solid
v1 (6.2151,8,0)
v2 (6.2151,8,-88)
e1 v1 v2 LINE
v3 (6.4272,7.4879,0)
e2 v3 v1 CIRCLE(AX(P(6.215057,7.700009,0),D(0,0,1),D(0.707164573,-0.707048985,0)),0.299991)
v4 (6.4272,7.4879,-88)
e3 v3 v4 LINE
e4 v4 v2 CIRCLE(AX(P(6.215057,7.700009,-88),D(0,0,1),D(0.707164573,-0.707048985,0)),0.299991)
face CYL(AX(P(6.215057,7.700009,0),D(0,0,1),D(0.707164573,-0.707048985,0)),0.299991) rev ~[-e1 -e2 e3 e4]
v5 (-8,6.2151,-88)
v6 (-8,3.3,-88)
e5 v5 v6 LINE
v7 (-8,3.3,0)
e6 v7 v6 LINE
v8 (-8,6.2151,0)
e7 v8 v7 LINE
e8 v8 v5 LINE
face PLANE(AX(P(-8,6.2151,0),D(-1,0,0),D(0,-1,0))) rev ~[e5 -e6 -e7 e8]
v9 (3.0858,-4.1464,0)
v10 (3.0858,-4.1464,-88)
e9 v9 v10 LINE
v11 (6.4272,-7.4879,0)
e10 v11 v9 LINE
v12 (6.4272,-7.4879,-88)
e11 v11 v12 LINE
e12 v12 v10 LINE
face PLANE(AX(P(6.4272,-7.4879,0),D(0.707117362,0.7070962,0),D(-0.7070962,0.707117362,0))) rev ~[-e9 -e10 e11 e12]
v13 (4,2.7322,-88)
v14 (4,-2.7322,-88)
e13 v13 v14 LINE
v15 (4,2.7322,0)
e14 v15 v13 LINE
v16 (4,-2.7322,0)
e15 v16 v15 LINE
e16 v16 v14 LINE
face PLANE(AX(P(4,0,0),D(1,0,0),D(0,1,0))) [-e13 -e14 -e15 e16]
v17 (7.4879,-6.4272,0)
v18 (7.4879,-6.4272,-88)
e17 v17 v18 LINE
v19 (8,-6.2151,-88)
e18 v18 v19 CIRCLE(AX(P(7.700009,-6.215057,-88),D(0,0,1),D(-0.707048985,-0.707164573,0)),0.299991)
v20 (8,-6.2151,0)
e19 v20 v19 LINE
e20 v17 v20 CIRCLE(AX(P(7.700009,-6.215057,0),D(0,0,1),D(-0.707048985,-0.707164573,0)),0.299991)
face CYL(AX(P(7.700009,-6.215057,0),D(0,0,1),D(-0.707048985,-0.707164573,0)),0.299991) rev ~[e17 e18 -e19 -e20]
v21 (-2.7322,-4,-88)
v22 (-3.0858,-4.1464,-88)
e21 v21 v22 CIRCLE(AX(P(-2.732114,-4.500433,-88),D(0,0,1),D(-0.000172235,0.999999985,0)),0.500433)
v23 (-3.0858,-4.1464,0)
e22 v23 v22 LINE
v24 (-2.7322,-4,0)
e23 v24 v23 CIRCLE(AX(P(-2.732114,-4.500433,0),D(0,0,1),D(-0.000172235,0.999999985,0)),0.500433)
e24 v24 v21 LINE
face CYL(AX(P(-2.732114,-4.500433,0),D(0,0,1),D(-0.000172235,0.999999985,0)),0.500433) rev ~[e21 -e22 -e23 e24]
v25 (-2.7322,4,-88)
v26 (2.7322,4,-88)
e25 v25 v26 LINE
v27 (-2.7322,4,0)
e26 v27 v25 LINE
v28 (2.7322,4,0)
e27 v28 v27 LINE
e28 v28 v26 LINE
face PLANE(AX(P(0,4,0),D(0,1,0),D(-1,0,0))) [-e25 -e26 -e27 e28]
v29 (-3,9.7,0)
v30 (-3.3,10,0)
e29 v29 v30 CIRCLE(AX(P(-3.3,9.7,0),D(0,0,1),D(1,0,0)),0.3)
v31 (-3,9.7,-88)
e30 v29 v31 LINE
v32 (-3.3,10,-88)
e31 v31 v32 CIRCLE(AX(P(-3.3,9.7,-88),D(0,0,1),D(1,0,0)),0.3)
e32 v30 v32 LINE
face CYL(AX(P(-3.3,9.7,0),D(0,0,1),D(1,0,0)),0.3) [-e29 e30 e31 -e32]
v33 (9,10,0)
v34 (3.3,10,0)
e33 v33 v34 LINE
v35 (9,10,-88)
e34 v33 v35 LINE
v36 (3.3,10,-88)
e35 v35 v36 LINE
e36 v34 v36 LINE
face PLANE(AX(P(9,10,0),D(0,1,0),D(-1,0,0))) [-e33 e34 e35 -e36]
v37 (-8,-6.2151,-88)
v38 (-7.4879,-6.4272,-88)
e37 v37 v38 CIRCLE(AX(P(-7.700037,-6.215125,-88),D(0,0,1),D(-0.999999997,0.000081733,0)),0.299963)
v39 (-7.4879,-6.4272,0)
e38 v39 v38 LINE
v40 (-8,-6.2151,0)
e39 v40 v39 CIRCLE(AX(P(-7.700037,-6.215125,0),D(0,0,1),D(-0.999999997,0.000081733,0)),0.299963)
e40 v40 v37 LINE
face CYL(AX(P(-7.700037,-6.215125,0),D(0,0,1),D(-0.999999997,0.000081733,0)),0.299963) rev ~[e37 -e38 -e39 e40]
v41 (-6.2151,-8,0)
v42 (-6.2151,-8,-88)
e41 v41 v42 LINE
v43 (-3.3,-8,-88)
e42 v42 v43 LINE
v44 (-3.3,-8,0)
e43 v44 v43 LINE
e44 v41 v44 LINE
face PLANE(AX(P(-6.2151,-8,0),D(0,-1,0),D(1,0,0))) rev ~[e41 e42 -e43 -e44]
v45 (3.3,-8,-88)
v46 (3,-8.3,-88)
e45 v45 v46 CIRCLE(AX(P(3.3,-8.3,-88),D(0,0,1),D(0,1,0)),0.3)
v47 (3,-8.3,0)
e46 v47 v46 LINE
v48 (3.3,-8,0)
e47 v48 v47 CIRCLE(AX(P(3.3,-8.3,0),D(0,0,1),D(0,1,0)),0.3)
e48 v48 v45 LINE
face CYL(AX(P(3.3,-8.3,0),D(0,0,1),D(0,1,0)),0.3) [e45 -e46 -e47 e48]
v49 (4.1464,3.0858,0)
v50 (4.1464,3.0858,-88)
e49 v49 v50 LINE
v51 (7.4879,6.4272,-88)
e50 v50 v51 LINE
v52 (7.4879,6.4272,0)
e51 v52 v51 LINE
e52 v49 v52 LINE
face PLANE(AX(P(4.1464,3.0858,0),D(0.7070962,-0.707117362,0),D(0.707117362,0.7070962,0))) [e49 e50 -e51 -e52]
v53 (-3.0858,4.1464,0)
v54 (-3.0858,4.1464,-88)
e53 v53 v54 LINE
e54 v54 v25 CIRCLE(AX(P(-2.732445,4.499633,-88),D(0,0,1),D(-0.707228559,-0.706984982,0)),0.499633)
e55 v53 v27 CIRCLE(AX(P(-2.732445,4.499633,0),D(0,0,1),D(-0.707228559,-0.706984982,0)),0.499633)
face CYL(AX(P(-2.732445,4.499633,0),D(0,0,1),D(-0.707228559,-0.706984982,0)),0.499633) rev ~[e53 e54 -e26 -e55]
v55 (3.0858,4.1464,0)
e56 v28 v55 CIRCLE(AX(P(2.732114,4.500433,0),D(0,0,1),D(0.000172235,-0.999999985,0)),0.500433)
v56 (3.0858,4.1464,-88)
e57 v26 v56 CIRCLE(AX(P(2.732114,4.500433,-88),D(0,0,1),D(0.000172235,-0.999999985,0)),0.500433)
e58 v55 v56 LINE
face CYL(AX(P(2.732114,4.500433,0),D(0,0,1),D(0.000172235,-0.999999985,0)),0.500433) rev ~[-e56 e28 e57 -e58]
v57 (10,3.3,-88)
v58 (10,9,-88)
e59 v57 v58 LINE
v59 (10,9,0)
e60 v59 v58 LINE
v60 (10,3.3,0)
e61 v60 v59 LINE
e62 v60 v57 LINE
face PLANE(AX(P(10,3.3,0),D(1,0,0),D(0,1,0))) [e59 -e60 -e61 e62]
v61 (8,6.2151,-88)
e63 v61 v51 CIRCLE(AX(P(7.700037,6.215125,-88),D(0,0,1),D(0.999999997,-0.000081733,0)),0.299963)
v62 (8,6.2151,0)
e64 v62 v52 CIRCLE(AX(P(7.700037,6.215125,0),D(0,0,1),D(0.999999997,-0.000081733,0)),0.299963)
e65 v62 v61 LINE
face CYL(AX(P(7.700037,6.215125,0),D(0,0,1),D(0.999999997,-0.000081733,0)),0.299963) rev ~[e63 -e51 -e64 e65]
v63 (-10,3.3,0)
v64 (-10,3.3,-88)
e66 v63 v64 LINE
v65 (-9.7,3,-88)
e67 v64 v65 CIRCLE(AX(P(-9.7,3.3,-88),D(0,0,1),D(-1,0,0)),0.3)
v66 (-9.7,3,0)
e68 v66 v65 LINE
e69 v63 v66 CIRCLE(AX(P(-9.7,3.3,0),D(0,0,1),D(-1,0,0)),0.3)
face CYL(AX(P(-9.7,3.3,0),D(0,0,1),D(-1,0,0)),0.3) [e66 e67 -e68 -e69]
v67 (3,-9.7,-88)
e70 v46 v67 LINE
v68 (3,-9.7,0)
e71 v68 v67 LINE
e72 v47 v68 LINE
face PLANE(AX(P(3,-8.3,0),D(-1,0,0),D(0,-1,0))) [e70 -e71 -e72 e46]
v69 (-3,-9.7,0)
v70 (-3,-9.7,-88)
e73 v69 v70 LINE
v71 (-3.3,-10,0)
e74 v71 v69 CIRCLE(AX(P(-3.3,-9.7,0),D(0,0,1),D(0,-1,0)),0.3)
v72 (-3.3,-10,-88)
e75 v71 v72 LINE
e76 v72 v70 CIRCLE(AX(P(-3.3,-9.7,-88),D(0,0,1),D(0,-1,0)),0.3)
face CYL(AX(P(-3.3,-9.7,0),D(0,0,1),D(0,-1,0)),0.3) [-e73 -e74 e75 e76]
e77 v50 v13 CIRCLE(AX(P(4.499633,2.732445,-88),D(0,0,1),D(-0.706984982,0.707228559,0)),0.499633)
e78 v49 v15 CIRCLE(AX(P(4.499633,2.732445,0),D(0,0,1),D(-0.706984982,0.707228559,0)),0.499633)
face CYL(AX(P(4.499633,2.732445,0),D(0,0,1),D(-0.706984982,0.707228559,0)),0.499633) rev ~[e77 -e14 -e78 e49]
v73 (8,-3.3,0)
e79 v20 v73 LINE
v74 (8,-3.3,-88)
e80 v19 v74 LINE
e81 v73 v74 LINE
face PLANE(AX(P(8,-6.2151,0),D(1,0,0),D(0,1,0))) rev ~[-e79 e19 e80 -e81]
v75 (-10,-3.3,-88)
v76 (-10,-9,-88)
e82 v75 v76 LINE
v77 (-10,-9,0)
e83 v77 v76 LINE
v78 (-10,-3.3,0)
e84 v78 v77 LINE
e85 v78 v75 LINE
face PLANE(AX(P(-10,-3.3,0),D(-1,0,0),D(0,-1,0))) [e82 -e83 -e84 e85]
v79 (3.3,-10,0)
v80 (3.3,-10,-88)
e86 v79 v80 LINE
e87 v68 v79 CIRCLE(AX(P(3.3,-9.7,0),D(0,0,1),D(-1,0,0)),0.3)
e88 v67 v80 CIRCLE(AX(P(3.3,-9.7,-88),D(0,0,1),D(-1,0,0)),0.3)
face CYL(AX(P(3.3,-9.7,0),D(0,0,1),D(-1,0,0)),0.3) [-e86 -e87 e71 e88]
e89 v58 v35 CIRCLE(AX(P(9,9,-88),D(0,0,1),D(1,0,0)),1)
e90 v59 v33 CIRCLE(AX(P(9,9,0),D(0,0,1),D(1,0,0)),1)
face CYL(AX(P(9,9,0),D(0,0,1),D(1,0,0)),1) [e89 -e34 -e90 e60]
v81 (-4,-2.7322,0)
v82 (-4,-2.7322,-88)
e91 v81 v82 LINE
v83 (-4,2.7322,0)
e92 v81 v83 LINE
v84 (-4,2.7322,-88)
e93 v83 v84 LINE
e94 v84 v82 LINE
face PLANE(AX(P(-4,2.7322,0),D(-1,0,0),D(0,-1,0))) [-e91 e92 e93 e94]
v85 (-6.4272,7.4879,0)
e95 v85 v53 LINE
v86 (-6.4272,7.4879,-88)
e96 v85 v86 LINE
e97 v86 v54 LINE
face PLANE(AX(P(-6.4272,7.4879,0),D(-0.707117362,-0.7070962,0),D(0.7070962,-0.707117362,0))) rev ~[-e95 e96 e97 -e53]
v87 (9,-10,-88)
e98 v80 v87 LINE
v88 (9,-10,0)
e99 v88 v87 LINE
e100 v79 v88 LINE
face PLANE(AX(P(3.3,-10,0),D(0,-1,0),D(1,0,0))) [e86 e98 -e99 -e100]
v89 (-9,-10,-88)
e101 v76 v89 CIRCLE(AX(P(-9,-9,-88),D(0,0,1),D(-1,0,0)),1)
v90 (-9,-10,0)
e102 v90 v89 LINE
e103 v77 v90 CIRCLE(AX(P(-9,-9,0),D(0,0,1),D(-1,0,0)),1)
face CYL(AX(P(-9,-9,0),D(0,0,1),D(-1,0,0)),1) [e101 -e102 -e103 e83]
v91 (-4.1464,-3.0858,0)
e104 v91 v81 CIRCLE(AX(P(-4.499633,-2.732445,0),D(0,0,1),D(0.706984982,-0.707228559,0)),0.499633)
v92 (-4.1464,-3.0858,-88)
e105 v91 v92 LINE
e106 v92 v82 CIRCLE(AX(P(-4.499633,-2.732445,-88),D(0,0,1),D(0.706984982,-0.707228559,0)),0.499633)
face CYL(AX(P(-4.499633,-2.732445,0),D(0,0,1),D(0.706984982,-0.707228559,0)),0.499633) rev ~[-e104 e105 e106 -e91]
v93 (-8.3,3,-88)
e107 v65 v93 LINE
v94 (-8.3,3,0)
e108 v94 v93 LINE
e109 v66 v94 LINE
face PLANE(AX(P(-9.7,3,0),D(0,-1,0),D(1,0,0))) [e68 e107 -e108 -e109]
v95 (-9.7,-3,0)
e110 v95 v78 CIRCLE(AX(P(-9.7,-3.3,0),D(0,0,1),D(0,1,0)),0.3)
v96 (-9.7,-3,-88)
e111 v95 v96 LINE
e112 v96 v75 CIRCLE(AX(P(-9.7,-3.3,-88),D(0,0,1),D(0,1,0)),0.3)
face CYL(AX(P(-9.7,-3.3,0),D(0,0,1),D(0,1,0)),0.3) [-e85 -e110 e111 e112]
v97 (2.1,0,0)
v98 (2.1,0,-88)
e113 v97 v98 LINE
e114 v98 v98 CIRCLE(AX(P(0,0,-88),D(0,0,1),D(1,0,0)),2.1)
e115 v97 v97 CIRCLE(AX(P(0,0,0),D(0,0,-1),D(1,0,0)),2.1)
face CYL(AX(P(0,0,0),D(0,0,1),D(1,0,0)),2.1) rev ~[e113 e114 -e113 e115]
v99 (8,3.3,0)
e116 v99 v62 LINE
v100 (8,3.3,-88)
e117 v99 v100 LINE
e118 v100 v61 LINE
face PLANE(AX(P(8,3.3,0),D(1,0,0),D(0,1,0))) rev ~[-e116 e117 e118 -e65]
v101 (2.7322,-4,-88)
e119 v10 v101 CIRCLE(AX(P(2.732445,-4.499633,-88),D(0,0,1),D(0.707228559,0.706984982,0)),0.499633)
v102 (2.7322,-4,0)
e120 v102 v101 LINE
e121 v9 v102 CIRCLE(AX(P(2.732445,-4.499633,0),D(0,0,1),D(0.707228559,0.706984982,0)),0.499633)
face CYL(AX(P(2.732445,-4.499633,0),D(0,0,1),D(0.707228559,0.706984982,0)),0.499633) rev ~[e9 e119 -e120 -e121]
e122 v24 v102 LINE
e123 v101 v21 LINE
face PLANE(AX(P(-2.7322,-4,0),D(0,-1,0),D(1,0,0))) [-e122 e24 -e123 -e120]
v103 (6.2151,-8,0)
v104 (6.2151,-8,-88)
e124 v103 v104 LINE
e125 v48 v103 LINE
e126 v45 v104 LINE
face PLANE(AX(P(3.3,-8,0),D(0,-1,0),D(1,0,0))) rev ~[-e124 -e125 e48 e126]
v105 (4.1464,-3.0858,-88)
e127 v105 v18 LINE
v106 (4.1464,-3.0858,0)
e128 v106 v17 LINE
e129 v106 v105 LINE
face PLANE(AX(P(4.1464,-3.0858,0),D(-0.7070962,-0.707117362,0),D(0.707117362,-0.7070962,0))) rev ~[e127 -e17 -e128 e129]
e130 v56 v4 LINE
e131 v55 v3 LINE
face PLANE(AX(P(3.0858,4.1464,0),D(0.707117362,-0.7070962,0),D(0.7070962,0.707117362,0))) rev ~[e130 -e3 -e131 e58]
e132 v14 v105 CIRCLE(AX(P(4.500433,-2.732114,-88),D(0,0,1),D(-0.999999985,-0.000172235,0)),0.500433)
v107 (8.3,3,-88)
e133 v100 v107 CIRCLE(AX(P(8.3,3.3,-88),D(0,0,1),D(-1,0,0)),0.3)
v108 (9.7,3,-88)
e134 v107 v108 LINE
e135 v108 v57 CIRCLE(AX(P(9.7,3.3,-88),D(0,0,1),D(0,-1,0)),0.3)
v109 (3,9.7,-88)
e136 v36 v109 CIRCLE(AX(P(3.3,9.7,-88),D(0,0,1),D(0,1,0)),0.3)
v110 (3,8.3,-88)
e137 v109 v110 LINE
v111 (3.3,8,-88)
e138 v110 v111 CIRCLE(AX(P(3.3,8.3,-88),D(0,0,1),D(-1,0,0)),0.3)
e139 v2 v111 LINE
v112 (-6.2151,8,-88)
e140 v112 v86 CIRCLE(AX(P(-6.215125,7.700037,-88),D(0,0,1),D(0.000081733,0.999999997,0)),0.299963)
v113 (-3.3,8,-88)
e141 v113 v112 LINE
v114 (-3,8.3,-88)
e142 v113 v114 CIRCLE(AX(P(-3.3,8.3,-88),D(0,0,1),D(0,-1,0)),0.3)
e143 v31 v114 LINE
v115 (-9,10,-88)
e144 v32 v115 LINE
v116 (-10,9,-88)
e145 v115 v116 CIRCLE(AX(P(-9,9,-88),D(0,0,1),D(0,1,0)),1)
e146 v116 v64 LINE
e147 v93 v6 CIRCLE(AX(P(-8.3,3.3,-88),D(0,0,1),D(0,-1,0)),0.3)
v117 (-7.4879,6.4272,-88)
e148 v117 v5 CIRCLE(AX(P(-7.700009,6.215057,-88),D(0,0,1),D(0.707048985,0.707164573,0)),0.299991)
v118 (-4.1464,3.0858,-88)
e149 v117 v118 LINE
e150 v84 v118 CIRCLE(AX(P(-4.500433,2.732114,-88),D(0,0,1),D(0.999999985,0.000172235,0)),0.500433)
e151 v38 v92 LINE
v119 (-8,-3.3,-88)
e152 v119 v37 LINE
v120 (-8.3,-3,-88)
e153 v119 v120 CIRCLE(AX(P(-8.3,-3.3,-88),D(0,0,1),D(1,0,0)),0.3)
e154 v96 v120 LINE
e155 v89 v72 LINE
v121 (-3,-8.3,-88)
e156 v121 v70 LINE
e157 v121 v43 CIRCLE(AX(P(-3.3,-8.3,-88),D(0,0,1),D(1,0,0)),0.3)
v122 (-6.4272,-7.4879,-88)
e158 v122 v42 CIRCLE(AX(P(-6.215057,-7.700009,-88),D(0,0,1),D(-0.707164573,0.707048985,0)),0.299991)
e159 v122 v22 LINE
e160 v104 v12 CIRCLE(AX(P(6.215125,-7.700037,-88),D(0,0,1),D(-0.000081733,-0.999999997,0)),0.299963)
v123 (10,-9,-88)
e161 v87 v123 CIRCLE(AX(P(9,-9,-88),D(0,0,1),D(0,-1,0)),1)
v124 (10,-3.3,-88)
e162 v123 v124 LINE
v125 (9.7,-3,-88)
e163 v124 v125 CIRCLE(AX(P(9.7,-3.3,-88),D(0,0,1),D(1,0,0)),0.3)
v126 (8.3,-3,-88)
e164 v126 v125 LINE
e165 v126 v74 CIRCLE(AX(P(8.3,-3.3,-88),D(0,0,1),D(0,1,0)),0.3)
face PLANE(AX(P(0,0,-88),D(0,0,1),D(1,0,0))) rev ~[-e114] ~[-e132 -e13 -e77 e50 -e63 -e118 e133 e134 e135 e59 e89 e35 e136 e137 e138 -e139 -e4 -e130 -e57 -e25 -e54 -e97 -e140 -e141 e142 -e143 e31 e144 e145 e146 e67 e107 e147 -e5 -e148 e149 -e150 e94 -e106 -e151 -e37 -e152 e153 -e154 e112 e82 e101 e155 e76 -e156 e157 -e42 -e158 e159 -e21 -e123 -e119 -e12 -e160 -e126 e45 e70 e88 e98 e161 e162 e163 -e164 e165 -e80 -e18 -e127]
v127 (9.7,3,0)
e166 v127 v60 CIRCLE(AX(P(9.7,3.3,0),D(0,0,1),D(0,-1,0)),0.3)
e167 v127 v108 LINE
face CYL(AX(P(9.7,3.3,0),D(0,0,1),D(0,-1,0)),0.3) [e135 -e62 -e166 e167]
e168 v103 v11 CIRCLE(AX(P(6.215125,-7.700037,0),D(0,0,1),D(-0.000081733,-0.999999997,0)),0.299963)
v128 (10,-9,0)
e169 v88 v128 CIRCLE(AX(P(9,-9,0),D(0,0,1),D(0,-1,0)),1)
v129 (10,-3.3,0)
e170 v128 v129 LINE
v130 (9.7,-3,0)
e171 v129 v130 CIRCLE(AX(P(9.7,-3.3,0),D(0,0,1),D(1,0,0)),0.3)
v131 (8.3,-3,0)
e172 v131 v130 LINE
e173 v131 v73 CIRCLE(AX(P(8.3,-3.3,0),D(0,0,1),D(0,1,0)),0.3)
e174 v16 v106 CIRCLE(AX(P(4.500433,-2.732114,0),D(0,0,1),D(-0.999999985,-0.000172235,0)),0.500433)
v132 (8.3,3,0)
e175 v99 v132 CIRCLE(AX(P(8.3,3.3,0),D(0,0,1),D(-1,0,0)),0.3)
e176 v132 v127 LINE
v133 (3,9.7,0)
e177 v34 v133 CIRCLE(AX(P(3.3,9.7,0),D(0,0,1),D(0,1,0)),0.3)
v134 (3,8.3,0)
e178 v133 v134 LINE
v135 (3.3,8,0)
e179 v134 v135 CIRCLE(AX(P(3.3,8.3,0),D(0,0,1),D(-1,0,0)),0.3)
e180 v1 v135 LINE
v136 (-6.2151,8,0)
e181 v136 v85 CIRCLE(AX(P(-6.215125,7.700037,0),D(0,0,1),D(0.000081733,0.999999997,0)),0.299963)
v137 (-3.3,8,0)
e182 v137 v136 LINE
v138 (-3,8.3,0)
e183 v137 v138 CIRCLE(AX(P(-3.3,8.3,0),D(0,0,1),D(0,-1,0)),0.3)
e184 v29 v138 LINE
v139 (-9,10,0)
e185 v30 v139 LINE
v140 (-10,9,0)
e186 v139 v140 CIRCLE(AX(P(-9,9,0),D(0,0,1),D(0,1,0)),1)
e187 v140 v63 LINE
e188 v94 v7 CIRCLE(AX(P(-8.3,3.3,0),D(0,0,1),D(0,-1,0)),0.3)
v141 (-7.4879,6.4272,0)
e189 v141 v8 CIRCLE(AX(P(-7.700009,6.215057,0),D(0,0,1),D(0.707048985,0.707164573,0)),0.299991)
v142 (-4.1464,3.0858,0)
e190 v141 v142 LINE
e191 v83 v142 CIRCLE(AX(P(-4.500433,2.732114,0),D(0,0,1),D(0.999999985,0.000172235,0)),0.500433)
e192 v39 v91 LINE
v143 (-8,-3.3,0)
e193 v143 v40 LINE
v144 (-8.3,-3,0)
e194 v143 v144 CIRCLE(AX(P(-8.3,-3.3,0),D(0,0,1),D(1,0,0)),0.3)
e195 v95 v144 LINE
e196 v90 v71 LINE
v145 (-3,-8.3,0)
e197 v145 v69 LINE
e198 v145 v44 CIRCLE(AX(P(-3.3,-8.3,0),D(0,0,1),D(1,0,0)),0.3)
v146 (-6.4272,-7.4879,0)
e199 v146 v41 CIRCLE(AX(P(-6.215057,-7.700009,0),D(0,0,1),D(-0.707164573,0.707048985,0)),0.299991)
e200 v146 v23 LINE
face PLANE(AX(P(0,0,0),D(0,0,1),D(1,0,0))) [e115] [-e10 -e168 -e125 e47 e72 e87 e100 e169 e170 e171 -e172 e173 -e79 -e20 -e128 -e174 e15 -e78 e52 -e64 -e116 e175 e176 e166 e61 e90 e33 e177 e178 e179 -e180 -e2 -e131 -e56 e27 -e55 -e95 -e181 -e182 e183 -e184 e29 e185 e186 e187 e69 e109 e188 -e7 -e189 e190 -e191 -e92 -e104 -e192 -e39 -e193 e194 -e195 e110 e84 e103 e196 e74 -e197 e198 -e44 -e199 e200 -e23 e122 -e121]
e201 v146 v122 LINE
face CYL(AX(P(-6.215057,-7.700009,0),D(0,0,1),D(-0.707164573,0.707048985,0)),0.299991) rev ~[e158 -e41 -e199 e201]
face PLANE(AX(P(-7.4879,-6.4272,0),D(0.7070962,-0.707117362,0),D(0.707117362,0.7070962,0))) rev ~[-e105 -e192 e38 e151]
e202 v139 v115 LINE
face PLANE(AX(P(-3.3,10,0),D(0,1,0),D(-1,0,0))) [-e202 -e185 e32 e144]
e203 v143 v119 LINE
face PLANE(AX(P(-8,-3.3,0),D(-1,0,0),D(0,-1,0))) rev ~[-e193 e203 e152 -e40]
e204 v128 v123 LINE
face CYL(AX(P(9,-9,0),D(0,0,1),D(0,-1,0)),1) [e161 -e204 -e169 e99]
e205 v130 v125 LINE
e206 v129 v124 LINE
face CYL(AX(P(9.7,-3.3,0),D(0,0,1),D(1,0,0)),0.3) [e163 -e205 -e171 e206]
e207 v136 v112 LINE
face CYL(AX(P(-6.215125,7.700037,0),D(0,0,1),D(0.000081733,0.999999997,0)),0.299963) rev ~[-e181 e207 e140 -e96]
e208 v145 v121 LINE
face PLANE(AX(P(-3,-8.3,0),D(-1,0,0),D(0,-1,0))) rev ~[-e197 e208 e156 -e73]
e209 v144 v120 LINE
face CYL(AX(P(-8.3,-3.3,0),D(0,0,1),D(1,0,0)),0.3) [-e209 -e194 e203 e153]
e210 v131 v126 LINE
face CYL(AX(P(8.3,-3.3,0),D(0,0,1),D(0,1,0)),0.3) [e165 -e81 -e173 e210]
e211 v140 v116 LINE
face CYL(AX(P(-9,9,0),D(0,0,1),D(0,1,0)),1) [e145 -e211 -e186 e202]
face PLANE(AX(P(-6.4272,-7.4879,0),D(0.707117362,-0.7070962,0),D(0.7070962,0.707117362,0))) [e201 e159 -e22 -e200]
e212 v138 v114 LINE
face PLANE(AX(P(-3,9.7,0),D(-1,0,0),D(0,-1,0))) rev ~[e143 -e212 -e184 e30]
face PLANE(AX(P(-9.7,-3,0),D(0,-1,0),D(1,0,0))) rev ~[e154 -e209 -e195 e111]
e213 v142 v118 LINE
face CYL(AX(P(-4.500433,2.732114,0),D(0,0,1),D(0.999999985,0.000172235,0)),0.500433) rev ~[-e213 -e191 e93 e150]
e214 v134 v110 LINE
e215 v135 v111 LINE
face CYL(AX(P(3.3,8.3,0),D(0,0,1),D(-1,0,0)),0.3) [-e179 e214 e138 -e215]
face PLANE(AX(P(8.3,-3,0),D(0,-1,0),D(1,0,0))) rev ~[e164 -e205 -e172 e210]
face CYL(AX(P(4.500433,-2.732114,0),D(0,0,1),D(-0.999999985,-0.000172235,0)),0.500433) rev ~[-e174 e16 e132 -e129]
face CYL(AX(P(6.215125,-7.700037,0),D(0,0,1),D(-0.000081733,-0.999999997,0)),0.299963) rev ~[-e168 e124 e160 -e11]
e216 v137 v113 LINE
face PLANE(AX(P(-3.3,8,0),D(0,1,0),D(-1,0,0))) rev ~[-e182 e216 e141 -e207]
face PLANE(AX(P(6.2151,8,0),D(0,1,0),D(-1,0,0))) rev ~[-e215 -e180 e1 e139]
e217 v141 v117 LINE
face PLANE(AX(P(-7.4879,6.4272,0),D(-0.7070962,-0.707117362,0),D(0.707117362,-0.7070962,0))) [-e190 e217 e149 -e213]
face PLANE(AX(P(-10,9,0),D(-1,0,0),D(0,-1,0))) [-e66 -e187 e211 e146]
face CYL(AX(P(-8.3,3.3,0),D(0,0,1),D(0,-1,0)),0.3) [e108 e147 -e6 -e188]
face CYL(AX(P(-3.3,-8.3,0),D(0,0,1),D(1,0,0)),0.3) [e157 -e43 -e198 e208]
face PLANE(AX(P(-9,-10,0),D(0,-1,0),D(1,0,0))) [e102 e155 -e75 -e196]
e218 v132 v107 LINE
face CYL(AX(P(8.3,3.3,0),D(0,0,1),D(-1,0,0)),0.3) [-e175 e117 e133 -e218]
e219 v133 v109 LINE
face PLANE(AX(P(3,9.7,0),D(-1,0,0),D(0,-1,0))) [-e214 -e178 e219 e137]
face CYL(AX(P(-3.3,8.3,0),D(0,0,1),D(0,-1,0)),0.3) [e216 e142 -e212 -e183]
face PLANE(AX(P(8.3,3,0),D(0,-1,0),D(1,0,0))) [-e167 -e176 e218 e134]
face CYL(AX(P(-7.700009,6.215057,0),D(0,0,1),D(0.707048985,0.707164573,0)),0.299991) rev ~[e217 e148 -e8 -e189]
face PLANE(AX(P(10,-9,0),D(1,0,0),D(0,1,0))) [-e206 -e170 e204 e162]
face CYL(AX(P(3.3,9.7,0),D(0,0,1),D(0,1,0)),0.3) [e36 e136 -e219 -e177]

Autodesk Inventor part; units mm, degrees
ref_plane "YZ Plane" through (0, 0, 0) normal (1, 0, 0) x (0, 1, 0)
ref_plane "XZ Plane" through (0, 0, 0) normal (0, 1, 0) x (-1, 0, 0)
ref_plane "XY Plane" through (0, 0, 0) normal (0, 0, 1) x (1, 0, 0)
sketch "Skizze1" plane through (0, 0, 0) normal (0, 0, 1) x (1, 0, 0)
  line L0 (-20.0059, 0) -> (20.0059, 0) projected
  line L1 (0, -20.0059) -> (0, 20.0059) projected
  line L2 (-14.2899, 0) -> (14.2899, 0)
  line L3 (0, -14.2899) -> (0, 14.2899)
  line L4 (-10, -10) -> (10, 10) construction
  line L5 (10, -10) -> (-10, 10) construction
  line L6 (-8, -8) -> (8, 8) construction
  line L7 (8, -8) -> (-8, 8) construction
  line L8 (-2.7322, -4) -> (2.7322, -4)
  line L9 (4, -2.7322) -> (4, 2.7322)
  line L10 (2.7322, 4) -> (-2.7322, 4)
  line L11 (-4, 2.7322) -> (-4, -2.7322)
  line L12 (-4, -4) -> (4, 4) construction
  line L13 (4, -4) -> (-4, 4) construction
  arc A0 (-9, 10) -> (-10, 9) centre (-9, 9) ccw
  arc A1 (10, 9) -> (9, 10) centre (9, 9) ccw
  arc A2 (9, -10) -> (10, -9) centre (9, -9) ccw
  arc A3 (-10, -9) -> (-9, -10) centre (-9, -9) ccw
  line L14 (-3, 9.7) -> (-3, 8.3)
  line L15 (3, 9.7) -> (3, 8.3)
  line L16 (6.2151, 8) -> (3.3, 8)
  line L17 (-3.3, 8) -> (-6.2151, 8)
  line L18 (9, 10) -> (3.3, 10)
  line L19 (-3.3, 10) -> (-9, 10)
  line L20 (-9.7, -3) -> (-8.3, -3)
  line L21 (-9.7, 3) -> (-8.3, 3)
  line L22 (-8, 6.2151) -> (-8, 3.3)
  line L23 (-8, -3.3) -> (-8, -6.2151)
  line L24 (-10, 9) -> (-10, 3.3)
  line L25 (-10, -3.3) -> (-10, -9)
  line L26 (-3, -8.3) -> (-3, -9.7)
  line L27 (3, -8.3) -> (3, -9.7)
  line L28 (-9, -10) -> (-3.3, -10)
  line L29 (3.3, -10) -> (9, -10)
  line L30 (-6.2151, -8) -> (-3.3, -8)
  line L31 (3.3, -8) -> (6.2151, -8)
  line L32 (8.3, 3) -> (9.7, 3)
  line L33 (8.3, -3) -> (9.7, -3)
  line L34 (8, -6.2151) -> (8, -3.3)
  line L35 (8, 3.3) -> (8, 6.2151)
  line L36 (10, -9) -> (10, -3.3)
  line L37 (10, 3.3) -> (10, 9)
  arc A4 (-10, 3.3) -> (-9.7, 3) centre (-9.7, 3.3) ccw
  arc A5 (-8.3, 3) -> (-8, 3.3) centre (-8.3, 3.3) ccw
  arc A6 (-9.7, -3) -> (-10, -3.3) centre (-9.7, -3.3) ccw
  arc A7 (-8, -3.3) -> (-8.3, -3) centre (-8.3, -3.3) ccw
  arc A8 (-3.3, -10) -> (-3, -9.7) centre (-3.3, -9.7) ccw
  arc A9 (-3, -8.3) -> (-3.3, -8) centre (-3.3, -8.3) ccw
  arc A10 (3, -9.7) -> (3.3, -10) centre (3.3, -9.7) ccw
  arc A11 (3.3, -8) -> (3, -8.3) centre (3.3, -8.3) ccw
  arc A12 (8.3, -3) -> (8, -3.3) centre (8.3, -3.3) ccw
  arc A13 (10, -3.3) -> (9.7, -3) centre (9.7, -3.3) ccw
  arc A14 (8, 3.3) -> (8.3, 3) centre (8.3, 3.3) ccw
  arc A15 (9.7, 3) -> (10, 3.3) centre (9.7, 3.3) ccw
  arc A16 (3, 8.3) -> (3.3, 8) centre (3.3, 8.3) ccw
  arc A17 (3.3, 10) -> (3, 9.7) centre (3.3, 9.7) ccw
  arc A18 (-3.3, 8) -> (-3, 8.3) centre (-3.3, 8.3) ccw
  arc A19 (-3, 9.7) -> (-3.3, 10) centre (-3.3, 9.7) ccw
  line L38 (-7.4879, 6.4272) -> (-4.1464, 3.0858)
  line L39 (-6.4272, 7.4879) -> (-3.0858, 4.1464)
  line L40 (-6.4272, -7.4879) -> (-3.0858, -4.1464)
  line L41 (-7.4879, -6.4272) -> (-4.1464, -3.0858)
  arc A20 (-7.4879, 6.4272) -> (-8, 6.2151) centre (-7.7, 6.2151) ccw
  arc A21 (-6.2151, 8) -> (-6.4272, 7.4879) centre (-6.2151, 7.7) ccw
  arc A22 (-8, -6.2151) -> (-7.4879, -6.4272) centre (-7.7, -6.2151) ccw
  arc A23 (-6.4272, -7.4879) -> (-6.2151, -8) centre (-6.2151, -7.7) ccw
  line L42 (6.4272, -7.4879) -> (3.0858, -4.1464)
  line L43 (4.1464, -3.0858) -> (7.4879, -6.4272)
  arc A24 (6.2151, -8) -> (6.4272, -7.4879) centre (6.2151, -7.7) ccw
  arc A25 (7.4879, -6.4272) -> (8, -6.2151) centre (7.7, -6.2151) ccw
  line L44 (4.1464, 3.0858) -> (7.4879, 6.4272)
  line L45 (3.0858, 4.1464) -> (6.4272, 7.4879)
  arc A26 (6.4272, 7.4879) -> (6.2151, 8) centre (6.2151, 7.7) ccw
  arc A27 (8, 6.2151) -> (7.4879, 6.4272) centre (7.7, 6.2151) ccw
  arc A28 (-3.0858, 4.1464) -> (-2.7322, 4) centre (-2.7322, 4.5) ccw
  arc A29 (-4, 2.7322) -> (-4.1464, 3.0858) centre (-4.5, 2.7322) ccw
  arc A30 (2.7322, 4) -> (3.0858, 4.1464) centre (2.7322, 4.5) ccw
  arc A31 (4.1464, 3.0858) -> (4, 2.7322) centre (4.5, 2.7322) ccw
  arc A32 (-4.1464, -3.0858) -> (-4, -2.7322) centre (-4.5, -2.7322) ccw
  arc A33 (-2.7322, -4) -> (-3.0858, -4.1464) centre (-2.7322, -4.5) ccw
  arc A34 (3.0858, -4.1464) -> (2.7322, -4) centre (2.7322, -4.5) ccw
  arc A35 (4, -2.7322) -> (4.1464, -3.0858) centre (4.5, -2.7322) ccw
  circle A36 centre (0, 0) radius 2.1
  point P0 (3, 8.9014)
  point P1 (-3, 9.1415)
  point P2 (-8.9764, -3)
  point P3 (-9.1265, 3)
  point P4 (3, -9.1251)
  point P5 (-3, -9.1251)
  point P6 (9.1101, -3)
  point P7 (9.1101, 3)
  dimension "d0" = 20
  dimension "d1" = 20
  dimension "d2" = 16
  dimension "d3" = 16
  dimension "d4" = 8
  dimension "d5" = 8
  dimension "d6" = 1
  dimension "d7" = 6
  dimension "d8" = 6
  dimension "d9" = 6
  dimension "d10" = 6
  dimension "d11" = 0.3
  dimension "d12" = 1.5
  dimension "d13" = 1.5
  dimension "d14" = 0.3
  dimension "d15" = 1.5
  dimension "d16" = 0.3
  dimension "d17" = 1.5
  dimension "d18" = 0.3
  dimension "d19" = 0.5
  dimension "d20" = 4.2
  dimension "d21" = 45
  dimension "d22" = 10
  dimension "d23" = 10
  dimension "d24" = 4
  dimension "d25" = 4
  dimension "d26" = 10
  dimension "d27" = 8
  dimension "d28" = 4
  dimension "d29" = 4
  dimension "d30" = 10
  dimension "d31" = 9.1101
  dimension "d32" = 8
  dimension "d33" = 4
  dimension "d34" = 8.9014
  dimension "d35" = 9.1251
  dimension "d36" = 9.1415
  dimension "d37" = 8.9764
  dimension "d38" = 9.1265
extrude "Extrusion1" add sketch "Skizze1" against normal blind 88
sketch "Skizze2" plane through (0, 0, 0) normal (0, 0, 1) x (1, 0, 0)
  arc A0 (-4.1464, -3.0858) -> (-4, -2.7322) centre (-4.5, -2.7322) ccw projected
  line L0 (-4.1464, -3.0858) -> (-7.4879, -6.4272) projected
  arc A1 (-8, -6.2151) -> (-7.4879, -6.4272) centre (-7.7, -6.2151) ccw projected
  line L1 (-8, -6.2151) -> (-8, -3.3) projected
  arc A2 (-8, -3.3) -> (-8.3, -3) centre (-8.3, -3.3) ccw projected
  line L2 (-8.3, -3) -> (-9.7, -3) projected
  arc A3 (-9.7, -3) -> (-10, -3.3) centre (-9.7, -3.3) ccw projected
  line L3 (-10, -3.3) -> (-10, -9) projected
  arc A4 (-10, -9) -> (-9, -10) centre (-9, -9) ccw projected
  line L4 (-9, -10) -> (-3.3, -10) projected
  arc A5 (-3.3, -10) -> (-3, -9.7) centre (-3.3, -9.7) ccw projected
  line L5 (-3, -9.7) -> (-3, -8.3) projected
  arc A6 (-3, -8.3) -> (-3.3, -8) centre (-3.3, -8.3) ccw projected
  line L6 (-3.3, -8) -> (-6.2151, -8) projected
  arc A7 (-6.4272, -7.4879) -> (-6.2151, -8) centre (-6.2151, -7.7) ccw projected
  line L7 (-6.4272, -7.4879) -> (-3.0858, -4.1464) projected
  arc A8 (-2.7322, -4) -> (-3.0858, -4.1464) centre (-2.7322, -4.5) ccw projected
  line L8 (-2.7322, -4) -> (2.7322, -4) projected
  arc A9 (3.0858, -4.1464) -> (2.7322, -4) centre (2.7322, -4.5) ccw projected
  line L9 (3.0858, -4.1464) -> (6.4272, -7.4879) projected
  arc A10 (6.2151, -8) -> (6.4272, -7.4879) centre (6.2151, -7.7) ccw projected
  line L10 (6.2151, -8) -> (3.3, -8) projected
  arc A11 (3.3, -8) -> (3, -8.3) centre (3.3, -8.3) ccw projected
  line L11 (3, -8.3) -> (3, -9.7) projected
  arc A12 (3, -9.7) -> (3.3, -10) centre (3.3, -9.7) ccw projected
  line L12 (3.3, -10) -> (9, -10) projected
  arc A13 (9, -10) -> (10, -9) centre (9, -9) ccw projected
  line L13 (10, -9) -> (10, -3.3) projected
  arc A14 (10, -3.3) -> (9.7, -3) centre (9.7, -3.3) ccw projected
  line L14 (9.7, -3) -> (8.3, -3) projected
  arc A15 (8.3, -3) -> (8, -3.3) centre (8.3, -3.3) ccw projected
  line L15 (8, -3.3) -> (8, -6.2151) projected
  arc A16 (7.4879, -6.4272) -> (8, -6.2151) centre (7.7, -6.2151) ccw projected
  line L16 (7.4879, -6.4272) -> (4.1464, -3.0858) projected
  arc A17 (4, -2.7322) -> (4.1464, -3.0858) centre (4.5, -2.7322) ccw projected
  line L17 (4, -2.7322) -> (4, 2.7322) projected
  arc A18 (4.1464, 3.0858) -> (4, 2.7322) centre (4.5, 2.7322) ccw projected
  line L18 (4.1464, 3.0858) -> (7.4879, 6.4272) projected
  arc A19 (8, 6.2151) -> (7.4879, 6.4272) centre (7.7, 6.2151) ccw projected
  line L19 (8, 6.2151) -> (8, 3.3) projected
  arc A20 (8, 3.3) -> (8.3, 3) centre (8.3, 3.3) ccw projected
  line L20 (8.3, 3) -> (9.7, 3) projected
  arc A21 (9.7, 3) -> (10, 3.3) centre (9.7, 3.3) ccw projected
  line L21 (10, 3.3) -> (10, 9) projected
  arc A22 (10, 9) -> (9, 10) centre (9, 9) ccw projected
  line L22 (9, 10) -> (3.3, 10) projected
  arc A23 (3.3, 10) -> (3, 9.7) centre (3.3, 9.7) ccw projected
  line L23 (3, 9.7) -> (3, 8.3) projected
  arc A24 (3, 8.3) -> (3.3, 8) centre (3.3, 8.3) ccw projected
  line L24 (3.3, 8) -> (6.2151, 8) projected
  arc A25 (6.4272, 7.4879) -> (6.2151, 8) centre (6.2151, 7.7) ccw projected
  line L25 (6.4272, 7.4879) -> (3.0858, 4.1464) projected
  arc A26 (2.7322, 4) -> (3.0858, 4.1464) centre (2.7322, 4.5) ccw projected
  line L26 (2.7322, 4) -> (-2.7322, 4) projected
  arc A27 (-3.0858, 4.1464) -> (-2.7322, 4) centre (-2.7322, 4.5) ccw projected
  line L27 (-3.0858, 4.1464) -> (-6.4272, 7.4879) projected
  arc A28 (-6.2151, 8) -> (-6.4272, 7.4879) centre (-6.2151, 7.7) ccw projected
  line L28 (-6.2151, 8) -> (-3.3, 8) projected
  arc A29 (-3.3, 8) -> (-3, 8.3) centre (-3.3, 8.3) ccw projected
  line L29 (-3, 8.3) -> (-3, 9.7) projected
  arc A30 (-3, 9.7) -> (-3.3, 10) centre (-3.3, 9.7) ccw projected
  line L30 (-3.3, 10) -> (-9, 10) projected
  arc A31 (-9, 10) -> (-10, 9) centre (-9, 9) ccw projected
  line L31 (-10, 9) -> (-10, 3.3) projected
  arc A32 (-10, 3.3) -> (-9.7, 3) centre (-9.7, 3.3) ccw projected
  line L32 (-9.7, 3) -> (-8.3, 3) projected
  arc A33 (-8.3, 3) -> (-8, 3.3) centre (-8.3, 3.3) ccw projected
  line L33 (-8, 3.3) -> (-8, 6.2151) projected
  arc A34 (-7.4879, 6.4272) -> (-8, 6.2151) centre (-7.7, 6.2151) ccw projected
  line L34 (-7.4879, 6.4272) -> (-4.1464, 3.0858) projected
  arc A35 (-4, 2.7322) -> (-4.1464, 3.0858) centre (-4.5, 2.7322) ccw projected
  line L35 (-4, 2.7322) -> (-4, -2.7322) projected
  line L36 (-14.2899, 0) -> (14.2899, 0) projected
  line L37 (0, -14.2899) -> (0, 14.2899) projected
  circle A36 centre (0, 0) radius 2.1
  dimension "d41" = 4.2
extrude "Extrusion2" cut sketch "Skizze2" against normal blind 88 contours A36 L37 L36 | L36 L37 A36 | L37 A36 L36 | L36 A36 L37
properties part number "I Strebe waagrecht kurz" material "Aluminium 6061"
